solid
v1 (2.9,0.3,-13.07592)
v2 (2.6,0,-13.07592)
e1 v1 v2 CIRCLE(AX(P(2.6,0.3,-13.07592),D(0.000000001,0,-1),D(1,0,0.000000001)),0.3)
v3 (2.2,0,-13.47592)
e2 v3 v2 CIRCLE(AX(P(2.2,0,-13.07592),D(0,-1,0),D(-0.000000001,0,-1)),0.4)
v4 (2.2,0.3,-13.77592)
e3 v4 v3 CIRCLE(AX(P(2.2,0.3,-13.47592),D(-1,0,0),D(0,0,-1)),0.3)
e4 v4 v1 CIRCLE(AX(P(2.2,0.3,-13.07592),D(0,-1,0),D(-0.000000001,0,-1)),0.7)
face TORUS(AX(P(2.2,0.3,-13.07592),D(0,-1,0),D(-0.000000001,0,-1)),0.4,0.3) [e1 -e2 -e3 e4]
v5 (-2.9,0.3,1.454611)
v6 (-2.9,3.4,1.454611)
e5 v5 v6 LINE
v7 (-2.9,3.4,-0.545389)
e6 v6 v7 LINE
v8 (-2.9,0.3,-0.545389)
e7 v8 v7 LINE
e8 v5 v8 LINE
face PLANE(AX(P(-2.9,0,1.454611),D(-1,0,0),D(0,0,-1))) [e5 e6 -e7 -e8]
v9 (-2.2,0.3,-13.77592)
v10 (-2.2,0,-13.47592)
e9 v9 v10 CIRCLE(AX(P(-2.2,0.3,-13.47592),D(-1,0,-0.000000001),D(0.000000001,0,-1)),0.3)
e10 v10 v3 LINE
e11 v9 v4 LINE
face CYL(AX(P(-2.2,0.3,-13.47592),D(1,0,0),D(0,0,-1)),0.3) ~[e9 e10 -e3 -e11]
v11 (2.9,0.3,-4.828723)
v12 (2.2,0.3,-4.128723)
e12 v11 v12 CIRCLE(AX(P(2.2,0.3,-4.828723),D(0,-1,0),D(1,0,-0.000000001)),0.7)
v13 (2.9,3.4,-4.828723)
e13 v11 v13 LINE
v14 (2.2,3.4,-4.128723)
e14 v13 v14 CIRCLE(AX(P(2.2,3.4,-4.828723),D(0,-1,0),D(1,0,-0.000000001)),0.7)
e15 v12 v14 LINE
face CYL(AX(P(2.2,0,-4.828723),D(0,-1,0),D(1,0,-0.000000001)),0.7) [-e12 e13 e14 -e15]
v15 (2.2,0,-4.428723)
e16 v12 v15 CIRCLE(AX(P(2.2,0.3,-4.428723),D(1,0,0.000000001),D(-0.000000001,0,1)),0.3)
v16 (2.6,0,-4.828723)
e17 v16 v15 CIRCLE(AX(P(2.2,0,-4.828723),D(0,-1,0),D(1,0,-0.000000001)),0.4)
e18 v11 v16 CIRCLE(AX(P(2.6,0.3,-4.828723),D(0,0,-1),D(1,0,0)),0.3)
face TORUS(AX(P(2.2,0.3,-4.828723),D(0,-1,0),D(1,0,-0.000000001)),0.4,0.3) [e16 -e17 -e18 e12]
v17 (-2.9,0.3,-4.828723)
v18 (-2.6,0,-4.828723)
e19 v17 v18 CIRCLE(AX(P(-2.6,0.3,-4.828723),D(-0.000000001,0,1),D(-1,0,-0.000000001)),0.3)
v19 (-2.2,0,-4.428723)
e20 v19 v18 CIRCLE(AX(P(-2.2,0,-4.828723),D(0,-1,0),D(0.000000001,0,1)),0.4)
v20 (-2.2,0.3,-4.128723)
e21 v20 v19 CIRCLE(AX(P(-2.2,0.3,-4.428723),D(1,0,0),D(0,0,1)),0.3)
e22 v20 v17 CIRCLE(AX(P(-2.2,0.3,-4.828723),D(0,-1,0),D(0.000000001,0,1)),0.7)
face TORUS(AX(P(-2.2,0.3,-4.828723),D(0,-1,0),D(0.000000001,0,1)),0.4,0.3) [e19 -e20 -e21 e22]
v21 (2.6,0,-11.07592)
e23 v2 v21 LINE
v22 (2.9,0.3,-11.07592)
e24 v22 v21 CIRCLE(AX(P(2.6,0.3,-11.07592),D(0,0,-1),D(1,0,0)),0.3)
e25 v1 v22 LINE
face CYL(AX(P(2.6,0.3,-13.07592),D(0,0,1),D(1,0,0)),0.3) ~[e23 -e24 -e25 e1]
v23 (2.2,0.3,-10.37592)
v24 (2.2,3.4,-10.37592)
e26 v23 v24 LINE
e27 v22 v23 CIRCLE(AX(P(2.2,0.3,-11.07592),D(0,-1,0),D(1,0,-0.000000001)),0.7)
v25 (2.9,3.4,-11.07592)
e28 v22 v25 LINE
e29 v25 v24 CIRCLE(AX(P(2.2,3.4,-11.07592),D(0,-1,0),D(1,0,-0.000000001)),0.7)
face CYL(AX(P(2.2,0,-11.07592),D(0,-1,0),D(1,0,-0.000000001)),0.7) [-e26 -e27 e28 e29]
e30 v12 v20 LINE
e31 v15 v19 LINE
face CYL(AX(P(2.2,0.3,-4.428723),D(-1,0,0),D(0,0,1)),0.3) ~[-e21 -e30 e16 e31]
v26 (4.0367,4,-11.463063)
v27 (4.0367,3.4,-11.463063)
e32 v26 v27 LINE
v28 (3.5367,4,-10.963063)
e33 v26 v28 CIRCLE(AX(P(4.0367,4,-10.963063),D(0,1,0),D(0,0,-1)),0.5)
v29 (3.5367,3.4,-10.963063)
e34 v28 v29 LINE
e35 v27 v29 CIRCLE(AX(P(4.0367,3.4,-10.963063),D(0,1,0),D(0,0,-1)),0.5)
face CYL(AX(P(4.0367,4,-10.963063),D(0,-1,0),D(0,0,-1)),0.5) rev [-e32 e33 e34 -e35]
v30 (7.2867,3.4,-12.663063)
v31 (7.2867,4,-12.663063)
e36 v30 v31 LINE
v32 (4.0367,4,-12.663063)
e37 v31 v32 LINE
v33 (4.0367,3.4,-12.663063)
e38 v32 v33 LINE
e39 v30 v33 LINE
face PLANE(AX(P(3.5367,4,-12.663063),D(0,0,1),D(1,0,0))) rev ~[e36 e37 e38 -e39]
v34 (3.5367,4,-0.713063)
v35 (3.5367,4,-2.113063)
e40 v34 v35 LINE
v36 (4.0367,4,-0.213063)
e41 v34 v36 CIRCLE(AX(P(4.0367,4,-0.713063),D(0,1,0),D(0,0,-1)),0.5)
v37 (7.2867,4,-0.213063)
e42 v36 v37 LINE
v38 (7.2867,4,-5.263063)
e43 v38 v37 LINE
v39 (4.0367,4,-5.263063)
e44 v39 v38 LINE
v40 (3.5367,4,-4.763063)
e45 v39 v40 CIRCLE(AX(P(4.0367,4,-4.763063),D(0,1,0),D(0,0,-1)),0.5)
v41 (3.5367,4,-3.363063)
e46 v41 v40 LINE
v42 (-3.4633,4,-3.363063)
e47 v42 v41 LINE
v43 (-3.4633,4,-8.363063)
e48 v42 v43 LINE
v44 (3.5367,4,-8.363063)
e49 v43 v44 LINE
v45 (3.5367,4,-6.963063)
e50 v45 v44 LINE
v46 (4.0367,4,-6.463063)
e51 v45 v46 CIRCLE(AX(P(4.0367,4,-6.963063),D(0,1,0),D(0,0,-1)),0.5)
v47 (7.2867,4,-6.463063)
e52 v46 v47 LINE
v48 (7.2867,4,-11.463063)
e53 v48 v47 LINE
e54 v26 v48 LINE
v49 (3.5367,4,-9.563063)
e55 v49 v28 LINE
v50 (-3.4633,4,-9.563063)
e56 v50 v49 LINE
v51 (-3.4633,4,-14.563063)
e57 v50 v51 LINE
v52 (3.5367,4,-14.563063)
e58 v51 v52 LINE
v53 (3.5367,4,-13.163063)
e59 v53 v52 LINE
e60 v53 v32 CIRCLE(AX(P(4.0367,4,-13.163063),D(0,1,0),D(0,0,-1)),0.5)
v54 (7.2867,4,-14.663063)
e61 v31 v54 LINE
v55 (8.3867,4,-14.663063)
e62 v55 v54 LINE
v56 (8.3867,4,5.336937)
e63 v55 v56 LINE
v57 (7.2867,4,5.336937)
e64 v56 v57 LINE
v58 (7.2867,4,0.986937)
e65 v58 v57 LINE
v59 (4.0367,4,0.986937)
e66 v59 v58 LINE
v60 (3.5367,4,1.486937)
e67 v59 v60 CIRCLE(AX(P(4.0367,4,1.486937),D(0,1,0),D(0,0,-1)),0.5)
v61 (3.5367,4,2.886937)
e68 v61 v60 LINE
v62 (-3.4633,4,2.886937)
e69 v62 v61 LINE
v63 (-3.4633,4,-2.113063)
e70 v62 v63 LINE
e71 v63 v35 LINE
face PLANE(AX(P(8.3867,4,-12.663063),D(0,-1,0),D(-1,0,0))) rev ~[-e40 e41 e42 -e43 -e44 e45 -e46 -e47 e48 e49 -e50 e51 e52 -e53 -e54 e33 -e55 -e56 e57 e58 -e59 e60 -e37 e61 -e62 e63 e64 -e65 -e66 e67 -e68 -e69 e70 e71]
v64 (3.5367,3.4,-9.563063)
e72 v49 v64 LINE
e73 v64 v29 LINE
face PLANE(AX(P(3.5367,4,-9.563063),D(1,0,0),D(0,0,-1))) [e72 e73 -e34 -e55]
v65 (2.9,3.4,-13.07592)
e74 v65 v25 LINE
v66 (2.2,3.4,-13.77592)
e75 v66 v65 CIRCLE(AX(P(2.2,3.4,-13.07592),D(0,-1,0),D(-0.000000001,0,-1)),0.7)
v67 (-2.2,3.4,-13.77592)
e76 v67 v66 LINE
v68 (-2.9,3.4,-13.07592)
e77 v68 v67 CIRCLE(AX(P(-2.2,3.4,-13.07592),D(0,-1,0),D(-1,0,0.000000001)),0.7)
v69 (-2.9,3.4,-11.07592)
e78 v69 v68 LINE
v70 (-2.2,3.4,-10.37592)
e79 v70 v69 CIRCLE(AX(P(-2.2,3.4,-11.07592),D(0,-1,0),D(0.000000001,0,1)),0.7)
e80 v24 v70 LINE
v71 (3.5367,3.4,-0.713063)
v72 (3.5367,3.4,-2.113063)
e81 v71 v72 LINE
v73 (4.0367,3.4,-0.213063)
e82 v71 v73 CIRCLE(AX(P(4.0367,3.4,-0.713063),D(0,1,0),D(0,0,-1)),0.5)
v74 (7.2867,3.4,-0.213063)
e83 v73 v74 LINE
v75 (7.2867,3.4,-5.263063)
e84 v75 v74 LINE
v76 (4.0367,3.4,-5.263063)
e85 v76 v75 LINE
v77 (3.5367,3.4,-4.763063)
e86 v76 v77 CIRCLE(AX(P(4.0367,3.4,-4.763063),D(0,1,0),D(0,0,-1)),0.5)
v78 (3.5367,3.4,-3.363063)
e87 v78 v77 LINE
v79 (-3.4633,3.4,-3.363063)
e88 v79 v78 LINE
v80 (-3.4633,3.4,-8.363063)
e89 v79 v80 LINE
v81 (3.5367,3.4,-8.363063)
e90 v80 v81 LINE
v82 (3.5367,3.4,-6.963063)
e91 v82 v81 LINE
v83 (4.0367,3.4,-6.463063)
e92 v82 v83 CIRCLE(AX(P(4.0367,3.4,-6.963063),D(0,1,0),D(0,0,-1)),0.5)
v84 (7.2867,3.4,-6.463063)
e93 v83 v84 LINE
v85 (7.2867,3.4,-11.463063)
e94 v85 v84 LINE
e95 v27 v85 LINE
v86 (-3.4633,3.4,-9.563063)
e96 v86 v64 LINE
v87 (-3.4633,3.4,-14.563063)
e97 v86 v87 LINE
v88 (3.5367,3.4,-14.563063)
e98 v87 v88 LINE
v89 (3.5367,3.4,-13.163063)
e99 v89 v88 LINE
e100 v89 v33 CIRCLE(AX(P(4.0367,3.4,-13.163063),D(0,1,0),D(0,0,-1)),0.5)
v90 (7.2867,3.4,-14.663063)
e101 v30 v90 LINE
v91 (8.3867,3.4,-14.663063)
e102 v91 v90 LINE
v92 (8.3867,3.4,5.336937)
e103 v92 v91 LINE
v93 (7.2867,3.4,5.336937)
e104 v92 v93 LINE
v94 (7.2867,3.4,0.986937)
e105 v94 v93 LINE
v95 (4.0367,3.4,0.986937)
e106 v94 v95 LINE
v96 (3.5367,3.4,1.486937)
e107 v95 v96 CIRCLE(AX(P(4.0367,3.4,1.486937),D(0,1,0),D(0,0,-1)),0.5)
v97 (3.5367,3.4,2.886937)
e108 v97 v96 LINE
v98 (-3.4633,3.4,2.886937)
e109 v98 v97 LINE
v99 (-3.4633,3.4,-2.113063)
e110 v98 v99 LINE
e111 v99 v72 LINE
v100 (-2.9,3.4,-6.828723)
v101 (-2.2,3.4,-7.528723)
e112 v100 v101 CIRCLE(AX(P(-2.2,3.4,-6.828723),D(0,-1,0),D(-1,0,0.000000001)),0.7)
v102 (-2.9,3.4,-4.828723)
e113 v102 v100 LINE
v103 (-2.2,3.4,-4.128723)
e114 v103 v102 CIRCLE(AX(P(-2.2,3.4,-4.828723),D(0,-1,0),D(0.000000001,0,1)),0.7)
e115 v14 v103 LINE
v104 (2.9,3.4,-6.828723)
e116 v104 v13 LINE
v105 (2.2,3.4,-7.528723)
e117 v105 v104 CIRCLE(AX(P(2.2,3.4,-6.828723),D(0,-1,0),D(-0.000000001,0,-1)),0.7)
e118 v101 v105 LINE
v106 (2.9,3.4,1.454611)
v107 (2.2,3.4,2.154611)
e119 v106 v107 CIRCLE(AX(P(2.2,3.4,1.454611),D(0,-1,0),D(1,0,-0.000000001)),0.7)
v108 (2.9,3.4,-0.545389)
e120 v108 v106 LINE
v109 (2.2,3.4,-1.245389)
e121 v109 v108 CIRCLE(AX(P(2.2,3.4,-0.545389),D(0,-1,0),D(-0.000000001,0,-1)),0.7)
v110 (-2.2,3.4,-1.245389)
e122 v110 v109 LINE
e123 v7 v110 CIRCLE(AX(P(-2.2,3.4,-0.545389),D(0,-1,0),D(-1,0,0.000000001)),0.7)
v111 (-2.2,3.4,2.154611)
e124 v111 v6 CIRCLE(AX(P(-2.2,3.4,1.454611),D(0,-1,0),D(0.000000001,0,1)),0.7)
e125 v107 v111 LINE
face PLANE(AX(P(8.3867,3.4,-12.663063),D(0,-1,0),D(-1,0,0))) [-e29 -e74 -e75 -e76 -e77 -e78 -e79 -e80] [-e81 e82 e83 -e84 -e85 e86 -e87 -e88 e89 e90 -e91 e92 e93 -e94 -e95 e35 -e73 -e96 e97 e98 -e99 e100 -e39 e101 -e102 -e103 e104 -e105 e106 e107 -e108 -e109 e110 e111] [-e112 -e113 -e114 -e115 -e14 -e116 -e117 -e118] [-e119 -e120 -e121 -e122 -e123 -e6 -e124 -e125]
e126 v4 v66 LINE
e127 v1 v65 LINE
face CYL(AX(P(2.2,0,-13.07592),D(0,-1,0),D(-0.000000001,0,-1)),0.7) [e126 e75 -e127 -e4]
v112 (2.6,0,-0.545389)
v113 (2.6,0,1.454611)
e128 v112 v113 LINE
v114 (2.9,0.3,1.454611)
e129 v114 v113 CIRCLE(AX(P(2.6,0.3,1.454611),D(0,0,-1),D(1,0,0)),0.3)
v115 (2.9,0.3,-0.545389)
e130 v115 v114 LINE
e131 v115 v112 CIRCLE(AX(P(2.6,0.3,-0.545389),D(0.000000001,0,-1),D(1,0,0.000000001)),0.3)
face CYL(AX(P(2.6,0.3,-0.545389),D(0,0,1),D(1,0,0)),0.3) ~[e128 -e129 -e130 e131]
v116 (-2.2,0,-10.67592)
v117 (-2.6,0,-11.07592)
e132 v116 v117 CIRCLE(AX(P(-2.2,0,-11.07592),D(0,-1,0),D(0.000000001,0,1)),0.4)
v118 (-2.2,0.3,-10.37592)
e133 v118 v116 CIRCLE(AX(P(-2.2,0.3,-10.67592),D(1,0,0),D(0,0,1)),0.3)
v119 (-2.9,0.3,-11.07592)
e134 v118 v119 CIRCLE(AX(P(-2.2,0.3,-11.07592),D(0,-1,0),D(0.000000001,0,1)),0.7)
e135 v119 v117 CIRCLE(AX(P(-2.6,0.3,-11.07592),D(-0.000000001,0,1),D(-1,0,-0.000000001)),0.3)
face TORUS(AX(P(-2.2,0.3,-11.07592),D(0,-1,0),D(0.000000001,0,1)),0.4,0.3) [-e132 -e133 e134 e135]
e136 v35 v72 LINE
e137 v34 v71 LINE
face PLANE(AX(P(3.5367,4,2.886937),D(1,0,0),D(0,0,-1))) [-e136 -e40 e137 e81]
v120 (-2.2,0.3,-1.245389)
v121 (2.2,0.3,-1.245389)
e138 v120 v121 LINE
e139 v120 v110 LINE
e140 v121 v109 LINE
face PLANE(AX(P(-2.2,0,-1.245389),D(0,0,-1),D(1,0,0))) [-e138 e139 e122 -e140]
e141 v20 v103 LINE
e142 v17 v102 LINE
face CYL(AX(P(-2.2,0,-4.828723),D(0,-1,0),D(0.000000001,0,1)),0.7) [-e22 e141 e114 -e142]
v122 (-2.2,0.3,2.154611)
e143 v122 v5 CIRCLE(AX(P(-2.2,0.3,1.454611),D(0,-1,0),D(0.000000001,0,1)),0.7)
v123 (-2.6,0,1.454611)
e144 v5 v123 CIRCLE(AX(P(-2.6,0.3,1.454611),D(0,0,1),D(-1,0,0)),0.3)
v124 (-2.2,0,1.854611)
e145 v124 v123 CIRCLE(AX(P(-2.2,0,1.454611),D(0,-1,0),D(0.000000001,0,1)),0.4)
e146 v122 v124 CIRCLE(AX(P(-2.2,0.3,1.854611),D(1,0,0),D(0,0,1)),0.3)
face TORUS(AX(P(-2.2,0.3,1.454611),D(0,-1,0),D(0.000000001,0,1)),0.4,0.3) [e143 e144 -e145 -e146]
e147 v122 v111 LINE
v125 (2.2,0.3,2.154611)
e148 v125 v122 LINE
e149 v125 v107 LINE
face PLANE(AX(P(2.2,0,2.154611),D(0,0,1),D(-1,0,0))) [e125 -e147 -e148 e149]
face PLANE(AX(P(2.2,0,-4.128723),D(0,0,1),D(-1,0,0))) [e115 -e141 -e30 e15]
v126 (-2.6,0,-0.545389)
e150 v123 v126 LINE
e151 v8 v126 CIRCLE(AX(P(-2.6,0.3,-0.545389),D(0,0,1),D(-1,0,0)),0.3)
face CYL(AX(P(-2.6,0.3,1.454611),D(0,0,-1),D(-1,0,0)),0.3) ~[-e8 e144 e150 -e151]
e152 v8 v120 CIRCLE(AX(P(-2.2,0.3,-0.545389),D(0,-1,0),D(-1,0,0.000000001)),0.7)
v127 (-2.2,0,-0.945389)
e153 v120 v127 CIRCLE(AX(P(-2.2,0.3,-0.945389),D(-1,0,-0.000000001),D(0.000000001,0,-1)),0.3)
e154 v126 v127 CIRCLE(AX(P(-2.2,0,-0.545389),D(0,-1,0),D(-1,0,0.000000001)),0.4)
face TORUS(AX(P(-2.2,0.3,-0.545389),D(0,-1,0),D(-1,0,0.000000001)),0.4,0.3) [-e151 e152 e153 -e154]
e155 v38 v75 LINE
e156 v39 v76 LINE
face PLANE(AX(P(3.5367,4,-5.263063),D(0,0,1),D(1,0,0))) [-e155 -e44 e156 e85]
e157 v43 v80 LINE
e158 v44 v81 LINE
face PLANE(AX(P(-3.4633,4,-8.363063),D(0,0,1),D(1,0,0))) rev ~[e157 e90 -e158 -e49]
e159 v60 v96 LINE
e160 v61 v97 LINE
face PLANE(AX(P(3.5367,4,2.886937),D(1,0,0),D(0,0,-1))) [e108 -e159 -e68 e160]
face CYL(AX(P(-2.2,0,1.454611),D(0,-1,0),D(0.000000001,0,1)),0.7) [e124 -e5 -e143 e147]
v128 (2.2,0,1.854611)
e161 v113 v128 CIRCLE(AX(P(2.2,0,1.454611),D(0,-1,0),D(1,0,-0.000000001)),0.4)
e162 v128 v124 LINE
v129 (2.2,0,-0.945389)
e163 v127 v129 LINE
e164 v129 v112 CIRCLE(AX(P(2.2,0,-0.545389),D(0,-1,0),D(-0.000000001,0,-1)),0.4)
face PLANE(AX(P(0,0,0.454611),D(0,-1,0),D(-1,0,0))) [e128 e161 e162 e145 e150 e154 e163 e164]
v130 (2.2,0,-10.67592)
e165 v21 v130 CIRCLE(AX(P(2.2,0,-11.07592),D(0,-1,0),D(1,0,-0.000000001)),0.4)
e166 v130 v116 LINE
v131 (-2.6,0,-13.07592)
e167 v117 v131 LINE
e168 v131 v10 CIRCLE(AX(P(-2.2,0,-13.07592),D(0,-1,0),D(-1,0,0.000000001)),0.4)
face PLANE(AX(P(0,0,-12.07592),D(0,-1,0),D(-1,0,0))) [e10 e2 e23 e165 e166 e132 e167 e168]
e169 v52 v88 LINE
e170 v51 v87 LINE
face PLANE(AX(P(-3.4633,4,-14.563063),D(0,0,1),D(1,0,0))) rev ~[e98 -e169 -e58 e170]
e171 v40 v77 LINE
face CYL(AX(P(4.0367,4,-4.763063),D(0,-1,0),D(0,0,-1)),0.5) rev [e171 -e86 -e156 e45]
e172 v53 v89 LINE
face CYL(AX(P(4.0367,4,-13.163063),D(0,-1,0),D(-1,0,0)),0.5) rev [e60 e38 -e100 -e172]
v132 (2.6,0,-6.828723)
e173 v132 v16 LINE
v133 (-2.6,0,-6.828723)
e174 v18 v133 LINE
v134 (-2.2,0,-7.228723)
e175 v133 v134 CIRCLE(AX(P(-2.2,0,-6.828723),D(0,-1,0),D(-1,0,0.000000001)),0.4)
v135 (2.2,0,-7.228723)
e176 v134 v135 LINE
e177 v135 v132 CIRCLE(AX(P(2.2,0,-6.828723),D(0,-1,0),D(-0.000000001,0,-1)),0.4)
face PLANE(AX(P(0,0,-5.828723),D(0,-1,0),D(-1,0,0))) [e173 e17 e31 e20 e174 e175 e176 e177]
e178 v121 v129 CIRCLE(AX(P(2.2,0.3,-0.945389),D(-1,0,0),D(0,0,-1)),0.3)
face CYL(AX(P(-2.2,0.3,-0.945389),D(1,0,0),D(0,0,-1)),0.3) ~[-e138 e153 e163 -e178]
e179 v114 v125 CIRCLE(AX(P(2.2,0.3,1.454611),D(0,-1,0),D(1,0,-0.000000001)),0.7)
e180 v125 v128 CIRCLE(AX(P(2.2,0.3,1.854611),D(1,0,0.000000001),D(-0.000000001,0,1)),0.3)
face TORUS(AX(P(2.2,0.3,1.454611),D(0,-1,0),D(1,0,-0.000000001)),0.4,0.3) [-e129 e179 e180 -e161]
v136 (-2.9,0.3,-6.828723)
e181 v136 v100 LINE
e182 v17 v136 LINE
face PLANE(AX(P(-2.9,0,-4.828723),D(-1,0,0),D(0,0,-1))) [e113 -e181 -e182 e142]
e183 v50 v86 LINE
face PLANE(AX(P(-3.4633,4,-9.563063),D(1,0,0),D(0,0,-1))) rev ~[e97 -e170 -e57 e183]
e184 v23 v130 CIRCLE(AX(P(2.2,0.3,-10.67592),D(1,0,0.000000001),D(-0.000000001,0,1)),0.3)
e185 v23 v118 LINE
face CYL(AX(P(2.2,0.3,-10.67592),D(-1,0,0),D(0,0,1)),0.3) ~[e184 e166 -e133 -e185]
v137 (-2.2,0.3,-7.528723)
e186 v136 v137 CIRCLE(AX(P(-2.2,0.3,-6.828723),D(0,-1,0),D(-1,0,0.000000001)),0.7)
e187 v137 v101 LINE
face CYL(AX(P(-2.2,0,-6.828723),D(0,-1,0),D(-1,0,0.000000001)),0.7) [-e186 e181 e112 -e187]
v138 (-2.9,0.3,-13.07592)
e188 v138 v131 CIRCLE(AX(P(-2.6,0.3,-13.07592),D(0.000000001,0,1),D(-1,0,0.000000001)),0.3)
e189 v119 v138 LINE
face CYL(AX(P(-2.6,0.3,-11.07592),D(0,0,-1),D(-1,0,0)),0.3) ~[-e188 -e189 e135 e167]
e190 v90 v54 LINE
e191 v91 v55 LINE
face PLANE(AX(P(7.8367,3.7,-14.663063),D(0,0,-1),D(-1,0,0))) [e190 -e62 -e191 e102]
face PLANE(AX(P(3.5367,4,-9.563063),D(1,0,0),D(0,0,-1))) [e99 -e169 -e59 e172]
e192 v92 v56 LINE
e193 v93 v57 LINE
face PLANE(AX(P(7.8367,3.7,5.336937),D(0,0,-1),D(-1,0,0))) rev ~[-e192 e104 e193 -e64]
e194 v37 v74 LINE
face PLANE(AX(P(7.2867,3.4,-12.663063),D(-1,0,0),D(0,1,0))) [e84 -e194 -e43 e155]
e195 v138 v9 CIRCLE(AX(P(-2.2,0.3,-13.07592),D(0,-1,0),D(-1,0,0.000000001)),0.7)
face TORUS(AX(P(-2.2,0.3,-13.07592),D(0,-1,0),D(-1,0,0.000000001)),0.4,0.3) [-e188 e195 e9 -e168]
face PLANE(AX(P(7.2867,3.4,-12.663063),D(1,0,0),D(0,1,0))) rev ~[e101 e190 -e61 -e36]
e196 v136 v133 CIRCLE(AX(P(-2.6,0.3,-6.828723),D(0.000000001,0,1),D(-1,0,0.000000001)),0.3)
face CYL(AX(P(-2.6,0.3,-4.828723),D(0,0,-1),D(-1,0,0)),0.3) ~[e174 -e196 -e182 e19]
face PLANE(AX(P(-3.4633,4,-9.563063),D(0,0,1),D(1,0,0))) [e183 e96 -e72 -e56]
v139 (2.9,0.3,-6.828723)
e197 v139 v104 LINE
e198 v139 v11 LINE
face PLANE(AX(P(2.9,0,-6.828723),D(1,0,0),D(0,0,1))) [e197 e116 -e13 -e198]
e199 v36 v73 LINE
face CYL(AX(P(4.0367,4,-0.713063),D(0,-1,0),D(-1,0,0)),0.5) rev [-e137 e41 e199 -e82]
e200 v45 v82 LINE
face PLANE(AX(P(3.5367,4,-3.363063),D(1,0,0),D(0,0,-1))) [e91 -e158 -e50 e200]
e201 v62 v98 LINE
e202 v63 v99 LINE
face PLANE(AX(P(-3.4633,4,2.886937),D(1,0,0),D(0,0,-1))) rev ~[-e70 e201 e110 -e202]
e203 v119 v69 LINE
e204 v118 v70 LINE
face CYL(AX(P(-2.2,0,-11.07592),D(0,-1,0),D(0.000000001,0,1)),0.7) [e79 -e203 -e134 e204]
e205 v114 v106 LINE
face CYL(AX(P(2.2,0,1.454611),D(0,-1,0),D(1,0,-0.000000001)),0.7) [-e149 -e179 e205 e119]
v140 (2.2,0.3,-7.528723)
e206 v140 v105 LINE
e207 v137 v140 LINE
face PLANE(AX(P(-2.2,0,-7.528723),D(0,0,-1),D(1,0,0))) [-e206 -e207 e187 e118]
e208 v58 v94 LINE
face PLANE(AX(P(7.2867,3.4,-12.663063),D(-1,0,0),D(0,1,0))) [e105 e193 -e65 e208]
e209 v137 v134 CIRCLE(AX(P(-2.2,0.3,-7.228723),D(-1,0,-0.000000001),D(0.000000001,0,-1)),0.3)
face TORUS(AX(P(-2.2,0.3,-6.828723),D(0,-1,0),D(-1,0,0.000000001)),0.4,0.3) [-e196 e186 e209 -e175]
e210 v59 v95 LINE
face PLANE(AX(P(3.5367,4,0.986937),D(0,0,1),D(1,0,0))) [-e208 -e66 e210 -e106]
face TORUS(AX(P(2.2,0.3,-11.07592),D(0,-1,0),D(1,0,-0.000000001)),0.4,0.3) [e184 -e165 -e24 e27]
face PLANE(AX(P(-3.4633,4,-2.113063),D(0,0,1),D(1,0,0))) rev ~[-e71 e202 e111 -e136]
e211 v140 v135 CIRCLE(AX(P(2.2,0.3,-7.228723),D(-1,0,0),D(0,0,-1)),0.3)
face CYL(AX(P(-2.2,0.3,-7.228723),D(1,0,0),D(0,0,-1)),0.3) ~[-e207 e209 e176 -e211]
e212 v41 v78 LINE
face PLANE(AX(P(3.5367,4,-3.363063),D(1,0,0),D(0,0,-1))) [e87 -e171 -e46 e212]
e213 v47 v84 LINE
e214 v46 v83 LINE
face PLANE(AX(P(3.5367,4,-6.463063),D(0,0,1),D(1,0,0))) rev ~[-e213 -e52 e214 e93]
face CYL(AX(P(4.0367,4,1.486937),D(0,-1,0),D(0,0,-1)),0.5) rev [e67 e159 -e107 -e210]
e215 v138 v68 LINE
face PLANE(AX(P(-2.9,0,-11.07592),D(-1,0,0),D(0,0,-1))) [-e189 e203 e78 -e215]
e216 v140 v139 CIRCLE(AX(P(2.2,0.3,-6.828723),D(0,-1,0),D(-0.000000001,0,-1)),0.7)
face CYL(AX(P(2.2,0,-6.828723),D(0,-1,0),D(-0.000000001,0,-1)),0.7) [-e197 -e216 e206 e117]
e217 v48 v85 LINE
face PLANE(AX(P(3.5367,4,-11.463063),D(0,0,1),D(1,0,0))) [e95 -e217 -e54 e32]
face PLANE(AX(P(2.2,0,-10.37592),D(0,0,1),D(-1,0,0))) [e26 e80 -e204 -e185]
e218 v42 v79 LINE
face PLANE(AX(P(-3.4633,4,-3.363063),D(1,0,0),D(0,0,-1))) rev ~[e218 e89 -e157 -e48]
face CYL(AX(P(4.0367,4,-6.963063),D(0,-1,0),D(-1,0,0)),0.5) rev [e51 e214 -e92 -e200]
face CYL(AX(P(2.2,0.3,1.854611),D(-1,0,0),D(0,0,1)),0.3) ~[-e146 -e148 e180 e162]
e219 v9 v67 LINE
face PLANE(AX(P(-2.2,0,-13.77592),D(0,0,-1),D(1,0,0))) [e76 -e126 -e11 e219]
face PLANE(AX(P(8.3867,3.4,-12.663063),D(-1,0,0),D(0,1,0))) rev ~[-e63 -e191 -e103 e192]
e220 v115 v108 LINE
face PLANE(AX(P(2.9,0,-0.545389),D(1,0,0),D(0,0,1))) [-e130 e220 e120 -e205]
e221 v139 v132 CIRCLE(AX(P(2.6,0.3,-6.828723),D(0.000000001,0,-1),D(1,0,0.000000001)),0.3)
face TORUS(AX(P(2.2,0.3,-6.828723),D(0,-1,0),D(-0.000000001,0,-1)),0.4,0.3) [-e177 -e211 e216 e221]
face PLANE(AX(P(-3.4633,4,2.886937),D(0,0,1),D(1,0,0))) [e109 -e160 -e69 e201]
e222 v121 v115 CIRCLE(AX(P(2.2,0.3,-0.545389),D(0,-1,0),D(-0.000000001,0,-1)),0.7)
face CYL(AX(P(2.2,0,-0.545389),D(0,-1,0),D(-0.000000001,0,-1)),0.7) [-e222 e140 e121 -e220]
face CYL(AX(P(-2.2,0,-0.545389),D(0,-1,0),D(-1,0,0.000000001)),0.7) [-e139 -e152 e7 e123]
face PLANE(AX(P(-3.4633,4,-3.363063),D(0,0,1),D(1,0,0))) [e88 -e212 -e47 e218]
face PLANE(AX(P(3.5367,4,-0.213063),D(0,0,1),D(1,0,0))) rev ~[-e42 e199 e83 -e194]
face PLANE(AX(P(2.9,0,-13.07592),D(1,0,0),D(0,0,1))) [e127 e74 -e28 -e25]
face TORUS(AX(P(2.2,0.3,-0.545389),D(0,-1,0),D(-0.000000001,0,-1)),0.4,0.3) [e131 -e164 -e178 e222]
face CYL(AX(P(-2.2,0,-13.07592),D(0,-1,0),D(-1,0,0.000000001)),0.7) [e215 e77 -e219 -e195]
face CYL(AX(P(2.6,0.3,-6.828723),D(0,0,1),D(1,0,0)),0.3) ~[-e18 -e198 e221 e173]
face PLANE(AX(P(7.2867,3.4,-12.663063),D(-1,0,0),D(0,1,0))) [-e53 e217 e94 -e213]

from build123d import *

# Parameters (mm, degrees)
EXTRUDE_1_DEPTH      = 4
EXTRUDE_1_2_DEPTH    = 4
EXTRUDE_1_3_DEPTH    = 4
SKETCH_2_W           = 7
SKETCH_2_H           = 5
EXTRUDE_2_DEPTH      = 0.6
SKETCH_3_W           = 4.85
SKETCH_3_H           = 1.2
EXTRUDE_3_DEPTH      = 0.6
SKETCH_4_W           = 1
SKETCH_4_H           = 13.65
EXTRUDE_4_DEPTH      = 0.6
FILLET_1_R           = 0.5
FILLET_2_R           = 0.3
SKETCH_5_W           = 1.1
SKETCH_5_H           = 0.6
EXTRUDE_5_DEPTH      = 2
EXTRUDE_5_DEPTH_BACK = 18


with BuildPart() as part:
    # 草图1 → 凸台-拉伸1 (new body)
    with BuildSketch(Plane(origin=(0, 0, 0), x_dir=(1, 0, 0), z_dir=(0, 1, 0))):
        with BuildLine():
            Line((-2.2, 1.245389122), (2.2, 1.245389122))
            ThreePointArc((2.2, 1.245389122), (2.694974747, 1.040363869), (2.9, 0.545389122))
            Line((2.9, 0.545389122), (2.9, -1.454610878))
            ThreePointArc((2.9, -1.454610878), (2.694974747, -1.949585625), (2.2, -2.154610878))
            Line((2.2, -2.154610878), (-2.2, -2.154610878))
            ThreePointArc((-2.2, -2.154610878), (-2.694974747, -1.949585625), (-2.9, -1.454610878))
            Line((-2.9, -1.454610878), (-2.9, 0.545389122))
            ThreePointArc((-2.9, 0.545389122), (-2.694974747, 1.040363869), (-2.2, 1.245389122))
        make_face()
    extrude(amount=EXTRUDE_1_DEPTH)



with BuildPart() as body_2:
    # 草图1 → Extrude 1 2 (new body)
    with BuildSketch(Plane(origin=(0, 0, 0), x_dir=(1, 0, 0), z_dir=(0, 1, 0))):
        with BuildLine():
            Line((-2.2, 7.528722779), (2.2, 7.528722779))
            ThreePointArc((2.2, 7.528722779), (2.694974747, 7.323697526), (2.9, 6.828722779))
            Line((2.9, 6.828722779), (2.9, 4.828722779))
            ThreePointArc((2.9, 4.828722779), (2.694974747, 4.333748032), (2.2, 4.128722779))
            Line((2.2, 4.128722779), (-2.2, 4.128722779))
            ThreePointArc((-2.2, 4.128722779), (-2.694974747, 4.333748032), (-2.9, 4.828722779))
            Line((-2.9, 4.828722779), (-2.9, 6.828722779))
            ThreePointArc((-2.9, 6.828722779), (-2.694974747, 7.323697526), (-2.2, 7.528722779))
        make_face()
    extrude(amount=EXTRUDE_1_2_DEPTH)


with BuildPart() as body_3:
    # 草图1 → Extrude 1 3 (new body)
    with BuildSketch(Plane(origin=(0, 0, 0), x_dir=(1, 0, 0), z_dir=(0, 1, 0))):
        with BuildLine():
            Line((-2.2, 13.775919566), (2.2, 13.775919566))
            ThreePointArc((2.2, 13.775919566), (2.694974747, 13.570894313), (2.9, 13.075919566))
            Line((2.9, 13.075919566), (2.9, 11.075919566))
            ThreePointArc((2.9, 11.075919566), (2.694974747, 10.580944819), (2.2, 10.375919566))
            Line((2.2, 10.375919566), (-2.2, 10.375919566))
            ThreePointArc((-2.2, 10.375919566), (-2.694974747, 10.580944819), (-2.9, 11.075919566))
            Line((-2.9, 11.075919566), (-2.9, 13.075919566))
            ThreePointArc((-2.9, 13.075919566), (-2.694974747, 13.570894313), (-2.2, 13.775919566))
        make_face()
    extrude(amount=EXTRUDE_1_3_DEPTH)


with BuildPart() as part_1:
    add(part.part)

    add(body_2.part)  # 凸台-拉伸2 merges body 2

    add(body_3.part)  # 凸台-拉伸2 merges body 3
    # 草图2 → 凸台-拉伸2 (add)
    with BuildSketch(Plane(origin=(0, 4, 0), x_dir=(1, 0, 0), z_dir=(0, 1, 0))):
        with Locations((0.036699987, 12.063062551)):
            Rectangle(SKETCH_2_W, SKETCH_2_H)
        with Locations((0.036699987, 5.863062551)):
            Rectangle(SKETCH_2_W, SKETCH_2_H)
        with Locations((0.036699987, -0.386937449)):
            Rectangle(SKETCH_2_W, SKETCH_2_H)
    extrude(amount=-EXTRUDE_2_DEPTH)

    # 草图3 → 凸台-拉伸3 (add)
    with BuildSketch(Plane(origin=(0, 4, 0), x_dir=(1, 0, 0), z_dir=(0, 1, 0))):
        with Locations((5.961699987, 12.063062551)):
            Rectangle(SKETCH_3_W, SKETCH_3_H)
        with Locations((5.961699987, 5.863062551)):
            Rectangle(SKETCH_3_W, SKETCH_3_H)
        with Locations((5.961699987, -0.386937449)):
            Rectangle(SKETCH_3_W, SKETCH_3_H)
    extrude(amount=-EXTRUDE_3_DEPTH)

    # 草图4 → 凸台-拉伸4 (add)
    with BuildSketch(Plane.XZ.offset(-3.4)):
        with Locations((7.886699987, -5.838062551)):
            Rectangle(SKETCH_4_W, SKETCH_4_H)
    extrude(amount=-EXTRUDE_4_DEPTH)

    # 圆角1
    fillet_1_edges = [part_1.edges().sort_by_distance(p)[0] for p in [
        (3.536699987, 3.7, -11.463062551),
        (3.536699987, 3.7, -12.663062551),
        (3.536699987, 3.7, 0.986937449),
        (3.536699987, 3.7, -0.213062551),
        (3.536699987, 3.7, -5.263062551),
        (3.536699987, 3.7, -6.463062551),
    ]]
    fillet(fillet_1_edges, radius=FILLET_1_R)

    # 圆角2
    fillet_2_edges = [part_1.edges().sort_by_distance(p)[0] for p in [
        (-2.9, 0, 0.454610878),
        (-2.694974747, 0, -1.040363869),
        (-2.694974747, 0, -13.570894313),
        (-2.9, 0, -12.075919566),
        (-2.694974747, 0, -10.580944819),
        (0, 0, -10.375919566),
        (2.694974747, 0, -10.580944819),
        (2.9, 0, -12.075919566),
        (2.694974747, 0, -13.570894313),
        (0, 0, -13.775919566),
        (0, 0, -1.245389122),
        (2.694974747, 0, -1.040363869),
        (2.9, 0, 0.454610878),
        (2.694974747, 0, 1.949585625),
        (-2.694974747, 0, -7.323697526),
        (-2.9, 0, -5.828722779),
        (-2.694974747, 0, -4.333748032),
        (0, 0, -4.128722779),
        (2.694974747, 0, -4.333748032),
        (2.9, 0, -5.828722779),
        (0, 0, 2.154610878),
        (2.694974747, 0, -7.323697526),
        (0, 0, -7.528722779),
        (-2.694974747, 0, 1.949585625),
    ]]
    fillet(fillet_2_edges, radius=FILLET_2_R)

    # 草图5 → 凸台-拉伸5 (add, two sides)
    with BuildSketch(Plane(origin=(0, 0, -12.663062551), x_dir=(-1, 0, 0), z_dir=(0, 0, -1))) as extrude_5_sk:
        with Locations((-7.836699987, 3.7)):
            Rectangle(SKETCH_5_W, SKETCH_5_H)
    extrude(amount=EXTRUDE_5_DEPTH)
    extrude(extrude_5_sk.sketch, amount=-EXTRUDE_5_DEPTH_BACK)


solid = part_1.part
